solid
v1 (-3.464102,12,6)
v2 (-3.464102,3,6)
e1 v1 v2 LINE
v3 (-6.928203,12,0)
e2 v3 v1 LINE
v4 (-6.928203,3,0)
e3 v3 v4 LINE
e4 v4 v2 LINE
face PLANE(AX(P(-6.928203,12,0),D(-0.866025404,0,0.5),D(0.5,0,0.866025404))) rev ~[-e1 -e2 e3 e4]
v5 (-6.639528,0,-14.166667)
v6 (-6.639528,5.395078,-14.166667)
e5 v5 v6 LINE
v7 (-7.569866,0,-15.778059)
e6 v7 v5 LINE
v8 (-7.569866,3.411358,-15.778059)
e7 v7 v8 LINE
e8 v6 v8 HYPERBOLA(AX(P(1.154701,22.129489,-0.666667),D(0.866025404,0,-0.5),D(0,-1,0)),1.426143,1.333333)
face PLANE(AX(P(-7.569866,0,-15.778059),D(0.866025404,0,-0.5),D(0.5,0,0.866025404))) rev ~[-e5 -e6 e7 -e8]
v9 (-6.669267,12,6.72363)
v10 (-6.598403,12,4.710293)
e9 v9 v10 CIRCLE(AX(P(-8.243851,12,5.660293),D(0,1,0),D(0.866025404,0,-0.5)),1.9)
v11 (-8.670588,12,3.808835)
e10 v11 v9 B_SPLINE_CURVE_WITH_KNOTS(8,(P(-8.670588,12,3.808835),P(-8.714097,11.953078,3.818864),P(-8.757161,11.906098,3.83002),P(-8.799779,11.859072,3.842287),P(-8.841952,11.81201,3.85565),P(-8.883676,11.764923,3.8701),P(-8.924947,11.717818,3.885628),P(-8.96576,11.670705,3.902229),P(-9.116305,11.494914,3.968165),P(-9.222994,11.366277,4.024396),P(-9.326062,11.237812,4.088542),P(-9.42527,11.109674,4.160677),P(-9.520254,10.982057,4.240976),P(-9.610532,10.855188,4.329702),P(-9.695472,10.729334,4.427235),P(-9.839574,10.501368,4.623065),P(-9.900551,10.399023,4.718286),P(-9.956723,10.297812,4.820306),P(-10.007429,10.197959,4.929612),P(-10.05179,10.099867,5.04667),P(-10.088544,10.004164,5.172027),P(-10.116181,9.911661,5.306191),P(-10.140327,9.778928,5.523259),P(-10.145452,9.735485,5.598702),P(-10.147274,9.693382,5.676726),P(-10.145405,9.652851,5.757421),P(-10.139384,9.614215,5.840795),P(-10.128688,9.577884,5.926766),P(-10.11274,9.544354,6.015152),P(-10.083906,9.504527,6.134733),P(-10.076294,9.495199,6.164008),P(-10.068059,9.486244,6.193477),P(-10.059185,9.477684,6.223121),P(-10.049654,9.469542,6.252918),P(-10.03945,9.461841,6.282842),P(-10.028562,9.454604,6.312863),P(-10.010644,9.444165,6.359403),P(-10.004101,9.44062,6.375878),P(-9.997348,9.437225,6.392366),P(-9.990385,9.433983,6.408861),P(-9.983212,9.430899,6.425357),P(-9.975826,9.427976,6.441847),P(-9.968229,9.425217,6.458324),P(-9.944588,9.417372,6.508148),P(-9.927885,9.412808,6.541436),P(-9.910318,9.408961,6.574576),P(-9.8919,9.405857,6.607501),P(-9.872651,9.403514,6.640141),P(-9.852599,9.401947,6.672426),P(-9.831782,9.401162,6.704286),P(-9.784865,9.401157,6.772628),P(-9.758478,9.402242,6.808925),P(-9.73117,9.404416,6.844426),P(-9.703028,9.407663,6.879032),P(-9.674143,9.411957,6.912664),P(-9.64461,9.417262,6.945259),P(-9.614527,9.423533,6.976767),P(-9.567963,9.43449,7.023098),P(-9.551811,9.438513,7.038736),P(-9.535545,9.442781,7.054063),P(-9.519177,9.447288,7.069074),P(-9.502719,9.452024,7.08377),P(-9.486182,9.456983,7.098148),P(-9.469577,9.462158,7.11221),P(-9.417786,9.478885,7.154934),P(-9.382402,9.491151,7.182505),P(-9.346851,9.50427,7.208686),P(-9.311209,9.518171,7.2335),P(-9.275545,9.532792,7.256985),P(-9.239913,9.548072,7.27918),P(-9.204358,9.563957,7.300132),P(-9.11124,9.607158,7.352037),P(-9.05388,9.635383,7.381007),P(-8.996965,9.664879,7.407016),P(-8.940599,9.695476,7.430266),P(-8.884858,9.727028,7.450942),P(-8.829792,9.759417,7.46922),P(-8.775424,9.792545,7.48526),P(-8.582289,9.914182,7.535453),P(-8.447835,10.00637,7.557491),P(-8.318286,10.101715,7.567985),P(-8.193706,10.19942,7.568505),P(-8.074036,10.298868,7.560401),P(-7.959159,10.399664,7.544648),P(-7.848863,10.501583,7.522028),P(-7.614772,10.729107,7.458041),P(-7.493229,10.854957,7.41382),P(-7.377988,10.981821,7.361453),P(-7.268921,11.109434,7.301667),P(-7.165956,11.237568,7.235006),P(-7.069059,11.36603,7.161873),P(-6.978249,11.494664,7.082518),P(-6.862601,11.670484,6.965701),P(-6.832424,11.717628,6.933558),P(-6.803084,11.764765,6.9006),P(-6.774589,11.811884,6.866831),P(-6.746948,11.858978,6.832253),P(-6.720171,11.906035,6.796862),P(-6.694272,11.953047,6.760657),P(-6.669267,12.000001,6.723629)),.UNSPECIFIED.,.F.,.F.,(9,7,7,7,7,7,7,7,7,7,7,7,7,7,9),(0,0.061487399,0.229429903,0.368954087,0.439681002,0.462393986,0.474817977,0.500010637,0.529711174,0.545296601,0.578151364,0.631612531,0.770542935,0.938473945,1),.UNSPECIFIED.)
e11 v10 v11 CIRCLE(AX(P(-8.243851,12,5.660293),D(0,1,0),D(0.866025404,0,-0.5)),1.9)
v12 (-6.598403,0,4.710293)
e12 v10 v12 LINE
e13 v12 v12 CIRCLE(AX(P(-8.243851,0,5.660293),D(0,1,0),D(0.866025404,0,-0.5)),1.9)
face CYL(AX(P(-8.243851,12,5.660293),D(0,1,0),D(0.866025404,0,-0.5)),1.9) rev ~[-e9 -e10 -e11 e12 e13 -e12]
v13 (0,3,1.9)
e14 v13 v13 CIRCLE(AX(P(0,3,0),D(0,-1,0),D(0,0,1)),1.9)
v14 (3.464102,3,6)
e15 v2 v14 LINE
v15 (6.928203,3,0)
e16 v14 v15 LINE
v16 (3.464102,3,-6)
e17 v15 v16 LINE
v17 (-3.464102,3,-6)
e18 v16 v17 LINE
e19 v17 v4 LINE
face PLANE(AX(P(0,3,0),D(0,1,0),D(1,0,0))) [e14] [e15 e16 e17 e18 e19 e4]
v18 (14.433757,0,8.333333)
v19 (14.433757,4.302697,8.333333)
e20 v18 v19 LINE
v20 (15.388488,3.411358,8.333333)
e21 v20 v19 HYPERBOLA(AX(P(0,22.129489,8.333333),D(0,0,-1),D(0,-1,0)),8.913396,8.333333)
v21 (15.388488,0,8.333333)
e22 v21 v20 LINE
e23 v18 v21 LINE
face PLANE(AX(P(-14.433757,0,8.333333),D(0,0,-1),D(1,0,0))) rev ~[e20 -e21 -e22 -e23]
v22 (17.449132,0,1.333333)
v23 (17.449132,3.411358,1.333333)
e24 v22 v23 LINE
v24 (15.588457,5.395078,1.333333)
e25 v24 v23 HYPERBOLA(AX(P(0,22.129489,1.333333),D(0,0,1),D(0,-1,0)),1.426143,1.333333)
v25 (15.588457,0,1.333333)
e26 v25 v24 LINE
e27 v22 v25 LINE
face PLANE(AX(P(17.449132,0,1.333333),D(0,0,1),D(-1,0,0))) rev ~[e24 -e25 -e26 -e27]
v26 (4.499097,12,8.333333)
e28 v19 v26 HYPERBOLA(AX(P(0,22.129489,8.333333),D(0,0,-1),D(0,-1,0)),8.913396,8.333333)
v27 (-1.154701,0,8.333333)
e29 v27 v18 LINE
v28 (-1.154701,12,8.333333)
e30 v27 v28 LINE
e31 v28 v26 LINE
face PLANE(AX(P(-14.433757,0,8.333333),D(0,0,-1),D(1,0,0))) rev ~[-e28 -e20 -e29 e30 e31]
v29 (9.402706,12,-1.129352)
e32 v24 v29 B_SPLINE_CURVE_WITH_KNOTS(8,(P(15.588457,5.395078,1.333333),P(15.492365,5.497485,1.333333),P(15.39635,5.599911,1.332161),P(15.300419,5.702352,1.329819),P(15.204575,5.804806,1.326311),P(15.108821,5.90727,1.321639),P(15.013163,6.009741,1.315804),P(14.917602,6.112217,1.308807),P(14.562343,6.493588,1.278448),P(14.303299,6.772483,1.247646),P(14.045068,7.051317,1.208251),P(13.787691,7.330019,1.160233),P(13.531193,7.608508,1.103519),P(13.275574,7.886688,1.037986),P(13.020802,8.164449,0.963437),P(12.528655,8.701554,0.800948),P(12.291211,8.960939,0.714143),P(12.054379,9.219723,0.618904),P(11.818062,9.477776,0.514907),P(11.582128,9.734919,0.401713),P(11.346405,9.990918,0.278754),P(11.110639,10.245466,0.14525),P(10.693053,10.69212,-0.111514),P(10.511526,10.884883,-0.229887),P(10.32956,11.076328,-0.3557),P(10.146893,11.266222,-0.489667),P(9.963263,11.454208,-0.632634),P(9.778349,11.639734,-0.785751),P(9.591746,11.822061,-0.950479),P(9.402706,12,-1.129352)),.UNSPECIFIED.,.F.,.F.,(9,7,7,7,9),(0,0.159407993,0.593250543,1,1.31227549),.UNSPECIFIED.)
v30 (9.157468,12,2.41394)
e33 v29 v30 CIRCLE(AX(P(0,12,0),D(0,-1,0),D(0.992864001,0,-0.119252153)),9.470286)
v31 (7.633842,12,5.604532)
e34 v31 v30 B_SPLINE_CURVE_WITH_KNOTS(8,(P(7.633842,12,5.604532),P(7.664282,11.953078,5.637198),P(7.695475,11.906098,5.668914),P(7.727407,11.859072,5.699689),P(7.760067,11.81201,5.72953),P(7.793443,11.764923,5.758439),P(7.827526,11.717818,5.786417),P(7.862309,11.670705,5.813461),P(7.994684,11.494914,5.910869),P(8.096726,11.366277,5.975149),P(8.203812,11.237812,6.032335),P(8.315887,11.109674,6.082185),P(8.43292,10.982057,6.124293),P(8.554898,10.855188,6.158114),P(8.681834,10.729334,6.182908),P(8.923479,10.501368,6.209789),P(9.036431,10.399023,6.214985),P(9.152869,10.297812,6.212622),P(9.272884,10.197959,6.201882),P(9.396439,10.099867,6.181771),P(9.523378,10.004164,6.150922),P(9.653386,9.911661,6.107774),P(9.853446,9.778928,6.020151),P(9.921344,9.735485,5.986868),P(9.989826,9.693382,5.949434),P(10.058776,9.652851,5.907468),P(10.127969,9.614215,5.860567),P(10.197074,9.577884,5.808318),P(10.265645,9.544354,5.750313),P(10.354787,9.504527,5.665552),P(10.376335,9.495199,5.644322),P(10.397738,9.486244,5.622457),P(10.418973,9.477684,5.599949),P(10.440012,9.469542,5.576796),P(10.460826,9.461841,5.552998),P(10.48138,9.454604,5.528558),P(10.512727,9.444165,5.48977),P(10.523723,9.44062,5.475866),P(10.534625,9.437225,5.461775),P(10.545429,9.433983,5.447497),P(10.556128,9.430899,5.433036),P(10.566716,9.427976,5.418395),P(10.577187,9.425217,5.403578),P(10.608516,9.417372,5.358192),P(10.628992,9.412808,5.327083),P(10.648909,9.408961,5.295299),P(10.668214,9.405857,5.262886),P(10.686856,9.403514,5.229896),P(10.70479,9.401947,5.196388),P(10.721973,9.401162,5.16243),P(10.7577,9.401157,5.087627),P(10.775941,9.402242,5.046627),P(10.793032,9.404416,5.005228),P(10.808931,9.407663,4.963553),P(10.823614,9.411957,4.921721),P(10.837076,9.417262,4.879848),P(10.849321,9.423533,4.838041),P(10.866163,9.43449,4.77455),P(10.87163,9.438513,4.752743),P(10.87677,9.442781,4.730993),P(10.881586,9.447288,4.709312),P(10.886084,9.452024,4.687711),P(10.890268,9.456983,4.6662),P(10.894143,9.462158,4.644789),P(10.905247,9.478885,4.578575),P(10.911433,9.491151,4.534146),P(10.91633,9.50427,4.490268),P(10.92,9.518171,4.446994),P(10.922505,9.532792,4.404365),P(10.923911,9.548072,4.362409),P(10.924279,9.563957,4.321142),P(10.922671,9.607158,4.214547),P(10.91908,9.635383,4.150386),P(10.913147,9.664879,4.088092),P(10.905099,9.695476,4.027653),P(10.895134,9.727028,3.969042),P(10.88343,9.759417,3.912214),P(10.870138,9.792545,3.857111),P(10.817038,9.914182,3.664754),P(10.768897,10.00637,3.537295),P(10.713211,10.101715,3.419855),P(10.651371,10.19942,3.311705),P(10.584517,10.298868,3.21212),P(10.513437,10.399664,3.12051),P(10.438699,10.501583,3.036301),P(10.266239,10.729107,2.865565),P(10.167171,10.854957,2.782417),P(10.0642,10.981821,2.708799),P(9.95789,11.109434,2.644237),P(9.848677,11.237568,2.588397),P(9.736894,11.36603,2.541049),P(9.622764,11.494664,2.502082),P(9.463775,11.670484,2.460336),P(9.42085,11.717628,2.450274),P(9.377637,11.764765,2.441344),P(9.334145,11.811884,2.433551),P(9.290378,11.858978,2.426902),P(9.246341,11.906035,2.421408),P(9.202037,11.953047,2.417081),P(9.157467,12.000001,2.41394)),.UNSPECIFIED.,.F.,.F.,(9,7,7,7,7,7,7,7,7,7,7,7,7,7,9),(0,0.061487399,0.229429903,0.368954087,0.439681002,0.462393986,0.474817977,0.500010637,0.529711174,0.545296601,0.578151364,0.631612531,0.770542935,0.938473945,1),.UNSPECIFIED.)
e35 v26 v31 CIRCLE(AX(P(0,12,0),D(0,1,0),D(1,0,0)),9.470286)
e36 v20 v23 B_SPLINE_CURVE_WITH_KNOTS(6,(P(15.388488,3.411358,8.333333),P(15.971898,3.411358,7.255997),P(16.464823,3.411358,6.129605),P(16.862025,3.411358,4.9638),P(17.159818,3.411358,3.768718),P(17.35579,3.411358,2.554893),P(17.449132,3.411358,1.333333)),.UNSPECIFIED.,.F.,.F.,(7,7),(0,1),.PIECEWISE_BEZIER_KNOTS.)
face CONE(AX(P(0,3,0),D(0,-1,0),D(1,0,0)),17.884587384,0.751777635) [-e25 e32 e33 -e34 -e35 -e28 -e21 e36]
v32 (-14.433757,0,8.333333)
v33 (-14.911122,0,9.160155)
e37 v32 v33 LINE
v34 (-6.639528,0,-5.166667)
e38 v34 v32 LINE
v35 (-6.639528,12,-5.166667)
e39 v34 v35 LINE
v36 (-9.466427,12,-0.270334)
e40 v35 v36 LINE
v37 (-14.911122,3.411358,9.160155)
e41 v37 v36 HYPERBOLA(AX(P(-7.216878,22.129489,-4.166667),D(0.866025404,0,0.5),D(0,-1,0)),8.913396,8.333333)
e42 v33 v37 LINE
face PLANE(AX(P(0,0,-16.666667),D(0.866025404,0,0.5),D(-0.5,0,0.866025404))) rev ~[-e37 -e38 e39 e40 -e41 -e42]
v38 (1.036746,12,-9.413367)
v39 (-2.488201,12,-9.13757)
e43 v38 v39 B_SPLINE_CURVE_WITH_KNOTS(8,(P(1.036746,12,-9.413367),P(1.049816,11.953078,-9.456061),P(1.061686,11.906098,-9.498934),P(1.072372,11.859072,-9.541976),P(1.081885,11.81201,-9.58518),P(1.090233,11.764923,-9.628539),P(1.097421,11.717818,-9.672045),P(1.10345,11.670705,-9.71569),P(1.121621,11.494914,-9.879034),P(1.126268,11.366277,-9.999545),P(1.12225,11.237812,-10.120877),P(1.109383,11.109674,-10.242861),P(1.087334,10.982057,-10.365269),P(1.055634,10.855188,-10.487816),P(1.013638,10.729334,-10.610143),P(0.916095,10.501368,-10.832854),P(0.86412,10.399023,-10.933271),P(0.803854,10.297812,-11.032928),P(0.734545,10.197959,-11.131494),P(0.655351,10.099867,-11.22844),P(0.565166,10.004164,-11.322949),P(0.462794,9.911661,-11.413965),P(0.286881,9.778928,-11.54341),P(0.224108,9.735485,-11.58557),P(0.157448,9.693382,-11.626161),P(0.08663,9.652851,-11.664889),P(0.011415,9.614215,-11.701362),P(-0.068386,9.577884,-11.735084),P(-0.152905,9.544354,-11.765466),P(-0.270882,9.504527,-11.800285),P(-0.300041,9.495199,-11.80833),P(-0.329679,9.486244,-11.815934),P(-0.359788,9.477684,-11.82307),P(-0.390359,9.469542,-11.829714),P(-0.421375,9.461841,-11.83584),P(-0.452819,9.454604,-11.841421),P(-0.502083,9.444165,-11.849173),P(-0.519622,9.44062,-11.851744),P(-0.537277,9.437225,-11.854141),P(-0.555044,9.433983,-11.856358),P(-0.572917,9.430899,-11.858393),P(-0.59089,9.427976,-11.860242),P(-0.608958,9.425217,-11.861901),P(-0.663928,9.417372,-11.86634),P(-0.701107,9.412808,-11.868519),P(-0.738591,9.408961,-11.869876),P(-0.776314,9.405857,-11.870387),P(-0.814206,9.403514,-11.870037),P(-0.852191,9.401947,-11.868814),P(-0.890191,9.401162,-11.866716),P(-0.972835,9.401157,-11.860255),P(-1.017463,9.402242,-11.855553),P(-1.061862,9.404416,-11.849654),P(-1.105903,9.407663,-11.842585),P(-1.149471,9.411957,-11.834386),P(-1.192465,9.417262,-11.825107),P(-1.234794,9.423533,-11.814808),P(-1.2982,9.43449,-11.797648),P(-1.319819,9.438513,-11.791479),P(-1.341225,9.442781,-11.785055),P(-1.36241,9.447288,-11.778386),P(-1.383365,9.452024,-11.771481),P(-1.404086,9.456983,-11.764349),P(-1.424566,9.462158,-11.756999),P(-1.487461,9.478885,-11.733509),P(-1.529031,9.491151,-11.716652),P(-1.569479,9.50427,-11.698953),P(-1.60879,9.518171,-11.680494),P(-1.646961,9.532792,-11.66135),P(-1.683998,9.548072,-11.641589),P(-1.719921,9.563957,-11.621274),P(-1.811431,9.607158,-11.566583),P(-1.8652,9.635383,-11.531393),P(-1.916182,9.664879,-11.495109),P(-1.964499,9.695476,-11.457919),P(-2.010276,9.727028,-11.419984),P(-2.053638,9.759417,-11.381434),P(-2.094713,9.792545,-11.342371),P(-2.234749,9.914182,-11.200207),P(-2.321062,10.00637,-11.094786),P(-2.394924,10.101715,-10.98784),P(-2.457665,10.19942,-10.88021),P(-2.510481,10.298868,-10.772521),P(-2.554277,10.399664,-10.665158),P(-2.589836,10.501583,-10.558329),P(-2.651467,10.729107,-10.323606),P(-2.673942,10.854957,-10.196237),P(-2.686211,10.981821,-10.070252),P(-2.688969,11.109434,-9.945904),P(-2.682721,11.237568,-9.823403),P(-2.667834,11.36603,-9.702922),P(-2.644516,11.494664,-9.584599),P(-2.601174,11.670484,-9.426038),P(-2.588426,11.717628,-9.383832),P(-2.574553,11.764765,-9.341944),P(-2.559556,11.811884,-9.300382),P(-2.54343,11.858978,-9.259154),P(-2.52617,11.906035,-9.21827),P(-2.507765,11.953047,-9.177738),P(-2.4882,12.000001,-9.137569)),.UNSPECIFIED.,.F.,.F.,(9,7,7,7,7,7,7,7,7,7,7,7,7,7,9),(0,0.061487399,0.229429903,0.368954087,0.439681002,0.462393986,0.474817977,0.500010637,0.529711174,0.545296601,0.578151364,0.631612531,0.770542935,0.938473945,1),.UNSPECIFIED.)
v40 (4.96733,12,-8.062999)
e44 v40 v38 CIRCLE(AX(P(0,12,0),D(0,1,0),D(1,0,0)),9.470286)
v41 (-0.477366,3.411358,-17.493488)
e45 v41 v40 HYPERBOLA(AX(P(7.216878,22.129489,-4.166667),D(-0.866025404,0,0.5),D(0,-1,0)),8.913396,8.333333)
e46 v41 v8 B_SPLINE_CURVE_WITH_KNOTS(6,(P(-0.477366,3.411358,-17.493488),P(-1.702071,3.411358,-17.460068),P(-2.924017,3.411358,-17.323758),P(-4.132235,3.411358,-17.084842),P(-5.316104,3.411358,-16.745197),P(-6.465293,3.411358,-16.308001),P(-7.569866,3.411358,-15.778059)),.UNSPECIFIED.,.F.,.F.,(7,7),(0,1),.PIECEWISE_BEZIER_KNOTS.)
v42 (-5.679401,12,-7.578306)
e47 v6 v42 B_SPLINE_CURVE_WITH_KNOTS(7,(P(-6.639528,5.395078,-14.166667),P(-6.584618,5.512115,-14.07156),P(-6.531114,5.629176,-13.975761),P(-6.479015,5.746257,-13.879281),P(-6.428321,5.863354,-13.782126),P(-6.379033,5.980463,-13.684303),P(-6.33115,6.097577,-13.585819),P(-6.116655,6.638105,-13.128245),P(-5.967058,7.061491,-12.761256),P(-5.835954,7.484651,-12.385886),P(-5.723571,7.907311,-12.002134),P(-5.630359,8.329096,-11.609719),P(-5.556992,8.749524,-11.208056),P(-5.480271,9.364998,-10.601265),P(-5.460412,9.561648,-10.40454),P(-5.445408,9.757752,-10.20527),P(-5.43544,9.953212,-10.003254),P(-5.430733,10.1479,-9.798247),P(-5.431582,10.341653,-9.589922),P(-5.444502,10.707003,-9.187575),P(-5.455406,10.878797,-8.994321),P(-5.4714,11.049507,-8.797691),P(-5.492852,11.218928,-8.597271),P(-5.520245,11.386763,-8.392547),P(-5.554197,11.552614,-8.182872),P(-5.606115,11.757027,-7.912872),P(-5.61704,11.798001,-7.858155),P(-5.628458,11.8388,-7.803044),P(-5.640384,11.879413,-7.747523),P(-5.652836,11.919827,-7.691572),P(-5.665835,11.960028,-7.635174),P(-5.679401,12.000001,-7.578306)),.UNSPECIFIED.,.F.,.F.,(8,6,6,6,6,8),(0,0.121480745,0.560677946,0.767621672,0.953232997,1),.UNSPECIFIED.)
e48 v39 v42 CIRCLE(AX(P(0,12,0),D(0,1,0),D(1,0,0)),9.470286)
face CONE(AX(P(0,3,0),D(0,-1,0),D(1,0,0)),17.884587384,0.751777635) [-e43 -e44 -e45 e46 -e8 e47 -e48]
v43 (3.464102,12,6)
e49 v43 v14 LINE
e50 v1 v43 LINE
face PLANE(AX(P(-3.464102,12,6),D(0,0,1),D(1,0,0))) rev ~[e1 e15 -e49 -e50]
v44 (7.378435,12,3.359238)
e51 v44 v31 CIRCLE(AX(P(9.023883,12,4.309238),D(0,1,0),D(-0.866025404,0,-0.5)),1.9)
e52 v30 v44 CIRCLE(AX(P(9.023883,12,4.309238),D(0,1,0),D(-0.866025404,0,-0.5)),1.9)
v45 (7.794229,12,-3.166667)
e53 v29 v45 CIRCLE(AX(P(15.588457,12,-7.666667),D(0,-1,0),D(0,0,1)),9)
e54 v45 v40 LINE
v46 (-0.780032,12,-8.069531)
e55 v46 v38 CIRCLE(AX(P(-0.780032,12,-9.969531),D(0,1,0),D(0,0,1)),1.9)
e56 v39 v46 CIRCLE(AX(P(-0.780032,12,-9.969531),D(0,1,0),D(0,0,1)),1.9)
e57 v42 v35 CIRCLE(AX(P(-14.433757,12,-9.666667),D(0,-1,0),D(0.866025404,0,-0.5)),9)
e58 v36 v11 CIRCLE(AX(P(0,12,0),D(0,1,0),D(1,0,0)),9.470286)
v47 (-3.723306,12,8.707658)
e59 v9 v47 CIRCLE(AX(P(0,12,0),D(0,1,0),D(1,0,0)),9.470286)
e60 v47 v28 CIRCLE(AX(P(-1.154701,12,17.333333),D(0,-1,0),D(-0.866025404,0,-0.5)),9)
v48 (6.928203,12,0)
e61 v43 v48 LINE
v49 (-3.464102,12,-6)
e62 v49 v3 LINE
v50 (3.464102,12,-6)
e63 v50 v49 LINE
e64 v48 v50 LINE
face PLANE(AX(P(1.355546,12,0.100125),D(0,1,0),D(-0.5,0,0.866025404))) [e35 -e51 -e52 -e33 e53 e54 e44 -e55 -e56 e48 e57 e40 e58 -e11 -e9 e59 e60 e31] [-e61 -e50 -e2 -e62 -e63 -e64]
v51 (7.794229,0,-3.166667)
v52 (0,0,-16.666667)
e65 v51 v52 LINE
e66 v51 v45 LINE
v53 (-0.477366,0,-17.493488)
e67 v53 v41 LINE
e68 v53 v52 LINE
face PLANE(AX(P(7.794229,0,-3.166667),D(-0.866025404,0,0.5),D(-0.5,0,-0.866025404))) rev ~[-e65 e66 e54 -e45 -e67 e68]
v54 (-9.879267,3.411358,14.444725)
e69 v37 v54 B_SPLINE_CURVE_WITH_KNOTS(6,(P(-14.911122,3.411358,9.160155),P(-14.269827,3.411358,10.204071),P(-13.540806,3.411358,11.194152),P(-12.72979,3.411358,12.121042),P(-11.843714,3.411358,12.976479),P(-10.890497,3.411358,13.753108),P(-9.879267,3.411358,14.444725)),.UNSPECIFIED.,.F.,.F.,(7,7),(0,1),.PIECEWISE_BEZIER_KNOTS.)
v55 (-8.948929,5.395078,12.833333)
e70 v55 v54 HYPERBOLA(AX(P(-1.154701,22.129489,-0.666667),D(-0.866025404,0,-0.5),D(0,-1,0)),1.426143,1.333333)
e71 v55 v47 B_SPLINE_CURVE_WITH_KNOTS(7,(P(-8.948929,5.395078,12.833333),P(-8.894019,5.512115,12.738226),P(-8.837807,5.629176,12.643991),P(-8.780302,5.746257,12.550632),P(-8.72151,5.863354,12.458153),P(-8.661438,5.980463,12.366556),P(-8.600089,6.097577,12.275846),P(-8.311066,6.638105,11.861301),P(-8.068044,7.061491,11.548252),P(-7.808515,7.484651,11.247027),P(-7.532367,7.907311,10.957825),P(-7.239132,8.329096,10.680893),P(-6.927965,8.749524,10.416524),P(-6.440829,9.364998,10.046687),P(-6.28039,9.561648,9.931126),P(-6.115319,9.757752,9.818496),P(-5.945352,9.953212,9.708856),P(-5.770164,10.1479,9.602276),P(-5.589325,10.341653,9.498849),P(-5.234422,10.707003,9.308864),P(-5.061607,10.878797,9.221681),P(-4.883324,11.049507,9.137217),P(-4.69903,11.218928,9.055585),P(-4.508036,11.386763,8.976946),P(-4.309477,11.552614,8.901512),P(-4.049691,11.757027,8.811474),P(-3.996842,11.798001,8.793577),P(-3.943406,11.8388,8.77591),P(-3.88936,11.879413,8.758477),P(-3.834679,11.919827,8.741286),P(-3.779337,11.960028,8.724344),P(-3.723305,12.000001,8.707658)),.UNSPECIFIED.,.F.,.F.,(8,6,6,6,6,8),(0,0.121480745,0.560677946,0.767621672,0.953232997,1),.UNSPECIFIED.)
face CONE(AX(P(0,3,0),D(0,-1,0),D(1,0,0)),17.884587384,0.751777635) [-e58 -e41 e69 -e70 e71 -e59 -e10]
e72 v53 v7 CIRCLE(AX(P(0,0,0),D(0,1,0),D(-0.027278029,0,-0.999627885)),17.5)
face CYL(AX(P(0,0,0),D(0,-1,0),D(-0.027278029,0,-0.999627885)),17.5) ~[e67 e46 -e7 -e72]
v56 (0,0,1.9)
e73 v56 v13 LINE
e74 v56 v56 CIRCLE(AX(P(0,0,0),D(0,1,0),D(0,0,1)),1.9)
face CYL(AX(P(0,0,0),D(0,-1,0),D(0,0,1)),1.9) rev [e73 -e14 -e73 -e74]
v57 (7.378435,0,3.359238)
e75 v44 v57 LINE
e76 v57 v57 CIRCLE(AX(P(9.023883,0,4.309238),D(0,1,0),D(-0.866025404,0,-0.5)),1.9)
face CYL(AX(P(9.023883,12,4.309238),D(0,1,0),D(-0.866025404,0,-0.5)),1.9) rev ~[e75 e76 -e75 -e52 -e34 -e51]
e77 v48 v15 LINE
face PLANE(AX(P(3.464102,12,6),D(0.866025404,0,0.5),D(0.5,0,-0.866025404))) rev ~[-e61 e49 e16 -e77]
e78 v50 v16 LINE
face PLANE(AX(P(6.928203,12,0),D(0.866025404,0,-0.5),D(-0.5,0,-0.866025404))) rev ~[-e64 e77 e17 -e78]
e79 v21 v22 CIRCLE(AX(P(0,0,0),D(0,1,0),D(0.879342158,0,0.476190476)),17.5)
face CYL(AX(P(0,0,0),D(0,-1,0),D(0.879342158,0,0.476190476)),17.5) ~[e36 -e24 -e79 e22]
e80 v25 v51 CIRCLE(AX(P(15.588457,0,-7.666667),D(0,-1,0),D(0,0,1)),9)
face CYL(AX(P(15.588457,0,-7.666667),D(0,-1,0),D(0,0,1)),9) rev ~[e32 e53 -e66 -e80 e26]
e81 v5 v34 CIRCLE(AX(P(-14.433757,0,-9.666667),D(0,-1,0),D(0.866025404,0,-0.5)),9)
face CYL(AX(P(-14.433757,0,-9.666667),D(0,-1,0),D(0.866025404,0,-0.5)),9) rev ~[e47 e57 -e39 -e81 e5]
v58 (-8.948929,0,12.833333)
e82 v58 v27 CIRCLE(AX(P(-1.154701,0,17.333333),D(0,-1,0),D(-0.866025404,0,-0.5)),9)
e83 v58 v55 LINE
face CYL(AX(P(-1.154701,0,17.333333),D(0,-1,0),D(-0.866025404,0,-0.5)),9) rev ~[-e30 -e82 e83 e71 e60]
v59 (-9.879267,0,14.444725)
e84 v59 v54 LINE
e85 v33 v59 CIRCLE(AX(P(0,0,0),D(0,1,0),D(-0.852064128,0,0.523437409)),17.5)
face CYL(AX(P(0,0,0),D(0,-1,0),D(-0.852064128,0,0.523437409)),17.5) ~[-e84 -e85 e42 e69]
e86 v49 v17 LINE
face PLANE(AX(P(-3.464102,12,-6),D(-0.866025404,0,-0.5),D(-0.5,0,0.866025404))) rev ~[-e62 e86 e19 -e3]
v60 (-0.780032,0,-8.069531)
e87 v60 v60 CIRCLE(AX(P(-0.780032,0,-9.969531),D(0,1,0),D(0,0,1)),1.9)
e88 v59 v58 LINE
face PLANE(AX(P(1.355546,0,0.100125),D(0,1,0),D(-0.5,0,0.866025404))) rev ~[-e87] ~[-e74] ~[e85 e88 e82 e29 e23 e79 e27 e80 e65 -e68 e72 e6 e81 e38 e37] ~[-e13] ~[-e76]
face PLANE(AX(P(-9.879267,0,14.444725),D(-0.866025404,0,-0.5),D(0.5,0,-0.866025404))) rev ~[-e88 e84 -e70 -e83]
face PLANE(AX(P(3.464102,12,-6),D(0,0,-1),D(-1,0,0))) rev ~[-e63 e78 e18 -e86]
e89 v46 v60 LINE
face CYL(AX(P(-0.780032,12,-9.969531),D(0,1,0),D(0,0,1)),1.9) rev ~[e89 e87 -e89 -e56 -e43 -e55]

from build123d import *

# Parameters (mm, degrees)
SKETCH1_R           = 1.9
BOSS_EXTRUDE1_DEPTH = 12
CIRPATTERN1_COUNT   = 3
CUT_EXTRUDE1_DEPTH  = 9
SKETCH4_R           = 1.9
CUT_EXTRUDE2_DEPTH  = 12
CIRPATTERN2_COUNT   = 3


with BuildPart() as part:
    # Sketch1 → Boss-Extrude1 (new body)
    with BuildSketch(Plane(origin=(0, 0, 0), x_dir=(1, 0, 0), z_dir=(0, 1, 0))):
        with BuildLine():
            ThreePointArc((-0.477365515, 17.493487993), (-4.114019559, 17.009551525), (-7.569865672, 15.778058617))
            Line((-7.569865672, 15.778058617), (-6.639528096, 14.166666667))
            ThreePointArc((-6.639528096, 14.166666667), (-5.43375673, 9.666666667), (-6.639528096, 5.166666667))
            Line((-6.639528096, 5.166666667), (-14.43375673, -8.333333333))
            Line((-14.43375673, -8.333333333), (14.43375673, -8.333333333))
            Line((14.43375673, -8.333333333), (-0.477365515, 17.493487993))
        make_face()
        with Locations(Location((0, 0, 0), (0, 0, 270))):
            Circle(SKETCH1_R, mode=Mode.SUBTRACT)
    boss_extrude1 = extrude(amount=BOSS_EXTRUDE1_DEPTH)

    # CirPattern1: Boss-Extrude1 ×3 about axis
    cirpattern1_axis = Axis((0, 0, 0), (0, 1, 0))
    for i in range(1, CIRPATTERN1_COUNT):
        add(boss_extrude1.rotate(cirpattern1_axis, i * 360 / CIRPATTERN1_COUNT))

    # Sketch3 → Cut-Extrude1 (cut)
    with BuildSketch(Plane(origin=(0, 12, 0), x_dir=(1, 0, 0), z_dir=(0, 1, 0))):
        Polygon((3.464101615, 6), (-3.464101615, 6), (-6.92820323, 0), (-3.464101615, -6), (3.464101615, -6), (6.92820323, 0), align=None)
    extrude(amount=-CUT_EXTRUDE1_DEPTH, mode=Mode.SUBTRACT)

    # Sketch4 → Cut-Extrude2 (cut)
    with BuildSketch(Plane(origin=(0, 12, 0), x_dir=(1, 0, 0), z_dir=(0, 1, 0))):
        with Locations(Location((-0.780031957, 9.96953109, 0), (0, 0, 270))):
            Circle(SKETCH4_R)
    cut_extrude2 = extrude(amount=-CUT_EXTRUDE2_DEPTH, mode=Mode.SUBTRACT)

    # CirPattern2: Cut-Extrude2 ×3 about axis
    cirpattern2_axis = Axis((0, 0, 0), (0, 1, 0))
    for i in range(1, CIRPATTERN2_COUNT):
        add(cut_extrude2.rotate(cirpattern2_axis, i * 360 / CIRPATTERN2_COUNT), mode=Mode.SUBTRACT)

    # Sketch5 → Cut-Revolve2 (revolve, cut)
    with BuildSketch(Plane.XY):
        Polygon((17.884587384, 3), (9.470286093, 12), (17.884587384, 12), align=None)
    revolve(axis=Axis((0, 0, 0), (0, 1, 0)), mode=Mode.SUBTRACT)


solid = part.part
